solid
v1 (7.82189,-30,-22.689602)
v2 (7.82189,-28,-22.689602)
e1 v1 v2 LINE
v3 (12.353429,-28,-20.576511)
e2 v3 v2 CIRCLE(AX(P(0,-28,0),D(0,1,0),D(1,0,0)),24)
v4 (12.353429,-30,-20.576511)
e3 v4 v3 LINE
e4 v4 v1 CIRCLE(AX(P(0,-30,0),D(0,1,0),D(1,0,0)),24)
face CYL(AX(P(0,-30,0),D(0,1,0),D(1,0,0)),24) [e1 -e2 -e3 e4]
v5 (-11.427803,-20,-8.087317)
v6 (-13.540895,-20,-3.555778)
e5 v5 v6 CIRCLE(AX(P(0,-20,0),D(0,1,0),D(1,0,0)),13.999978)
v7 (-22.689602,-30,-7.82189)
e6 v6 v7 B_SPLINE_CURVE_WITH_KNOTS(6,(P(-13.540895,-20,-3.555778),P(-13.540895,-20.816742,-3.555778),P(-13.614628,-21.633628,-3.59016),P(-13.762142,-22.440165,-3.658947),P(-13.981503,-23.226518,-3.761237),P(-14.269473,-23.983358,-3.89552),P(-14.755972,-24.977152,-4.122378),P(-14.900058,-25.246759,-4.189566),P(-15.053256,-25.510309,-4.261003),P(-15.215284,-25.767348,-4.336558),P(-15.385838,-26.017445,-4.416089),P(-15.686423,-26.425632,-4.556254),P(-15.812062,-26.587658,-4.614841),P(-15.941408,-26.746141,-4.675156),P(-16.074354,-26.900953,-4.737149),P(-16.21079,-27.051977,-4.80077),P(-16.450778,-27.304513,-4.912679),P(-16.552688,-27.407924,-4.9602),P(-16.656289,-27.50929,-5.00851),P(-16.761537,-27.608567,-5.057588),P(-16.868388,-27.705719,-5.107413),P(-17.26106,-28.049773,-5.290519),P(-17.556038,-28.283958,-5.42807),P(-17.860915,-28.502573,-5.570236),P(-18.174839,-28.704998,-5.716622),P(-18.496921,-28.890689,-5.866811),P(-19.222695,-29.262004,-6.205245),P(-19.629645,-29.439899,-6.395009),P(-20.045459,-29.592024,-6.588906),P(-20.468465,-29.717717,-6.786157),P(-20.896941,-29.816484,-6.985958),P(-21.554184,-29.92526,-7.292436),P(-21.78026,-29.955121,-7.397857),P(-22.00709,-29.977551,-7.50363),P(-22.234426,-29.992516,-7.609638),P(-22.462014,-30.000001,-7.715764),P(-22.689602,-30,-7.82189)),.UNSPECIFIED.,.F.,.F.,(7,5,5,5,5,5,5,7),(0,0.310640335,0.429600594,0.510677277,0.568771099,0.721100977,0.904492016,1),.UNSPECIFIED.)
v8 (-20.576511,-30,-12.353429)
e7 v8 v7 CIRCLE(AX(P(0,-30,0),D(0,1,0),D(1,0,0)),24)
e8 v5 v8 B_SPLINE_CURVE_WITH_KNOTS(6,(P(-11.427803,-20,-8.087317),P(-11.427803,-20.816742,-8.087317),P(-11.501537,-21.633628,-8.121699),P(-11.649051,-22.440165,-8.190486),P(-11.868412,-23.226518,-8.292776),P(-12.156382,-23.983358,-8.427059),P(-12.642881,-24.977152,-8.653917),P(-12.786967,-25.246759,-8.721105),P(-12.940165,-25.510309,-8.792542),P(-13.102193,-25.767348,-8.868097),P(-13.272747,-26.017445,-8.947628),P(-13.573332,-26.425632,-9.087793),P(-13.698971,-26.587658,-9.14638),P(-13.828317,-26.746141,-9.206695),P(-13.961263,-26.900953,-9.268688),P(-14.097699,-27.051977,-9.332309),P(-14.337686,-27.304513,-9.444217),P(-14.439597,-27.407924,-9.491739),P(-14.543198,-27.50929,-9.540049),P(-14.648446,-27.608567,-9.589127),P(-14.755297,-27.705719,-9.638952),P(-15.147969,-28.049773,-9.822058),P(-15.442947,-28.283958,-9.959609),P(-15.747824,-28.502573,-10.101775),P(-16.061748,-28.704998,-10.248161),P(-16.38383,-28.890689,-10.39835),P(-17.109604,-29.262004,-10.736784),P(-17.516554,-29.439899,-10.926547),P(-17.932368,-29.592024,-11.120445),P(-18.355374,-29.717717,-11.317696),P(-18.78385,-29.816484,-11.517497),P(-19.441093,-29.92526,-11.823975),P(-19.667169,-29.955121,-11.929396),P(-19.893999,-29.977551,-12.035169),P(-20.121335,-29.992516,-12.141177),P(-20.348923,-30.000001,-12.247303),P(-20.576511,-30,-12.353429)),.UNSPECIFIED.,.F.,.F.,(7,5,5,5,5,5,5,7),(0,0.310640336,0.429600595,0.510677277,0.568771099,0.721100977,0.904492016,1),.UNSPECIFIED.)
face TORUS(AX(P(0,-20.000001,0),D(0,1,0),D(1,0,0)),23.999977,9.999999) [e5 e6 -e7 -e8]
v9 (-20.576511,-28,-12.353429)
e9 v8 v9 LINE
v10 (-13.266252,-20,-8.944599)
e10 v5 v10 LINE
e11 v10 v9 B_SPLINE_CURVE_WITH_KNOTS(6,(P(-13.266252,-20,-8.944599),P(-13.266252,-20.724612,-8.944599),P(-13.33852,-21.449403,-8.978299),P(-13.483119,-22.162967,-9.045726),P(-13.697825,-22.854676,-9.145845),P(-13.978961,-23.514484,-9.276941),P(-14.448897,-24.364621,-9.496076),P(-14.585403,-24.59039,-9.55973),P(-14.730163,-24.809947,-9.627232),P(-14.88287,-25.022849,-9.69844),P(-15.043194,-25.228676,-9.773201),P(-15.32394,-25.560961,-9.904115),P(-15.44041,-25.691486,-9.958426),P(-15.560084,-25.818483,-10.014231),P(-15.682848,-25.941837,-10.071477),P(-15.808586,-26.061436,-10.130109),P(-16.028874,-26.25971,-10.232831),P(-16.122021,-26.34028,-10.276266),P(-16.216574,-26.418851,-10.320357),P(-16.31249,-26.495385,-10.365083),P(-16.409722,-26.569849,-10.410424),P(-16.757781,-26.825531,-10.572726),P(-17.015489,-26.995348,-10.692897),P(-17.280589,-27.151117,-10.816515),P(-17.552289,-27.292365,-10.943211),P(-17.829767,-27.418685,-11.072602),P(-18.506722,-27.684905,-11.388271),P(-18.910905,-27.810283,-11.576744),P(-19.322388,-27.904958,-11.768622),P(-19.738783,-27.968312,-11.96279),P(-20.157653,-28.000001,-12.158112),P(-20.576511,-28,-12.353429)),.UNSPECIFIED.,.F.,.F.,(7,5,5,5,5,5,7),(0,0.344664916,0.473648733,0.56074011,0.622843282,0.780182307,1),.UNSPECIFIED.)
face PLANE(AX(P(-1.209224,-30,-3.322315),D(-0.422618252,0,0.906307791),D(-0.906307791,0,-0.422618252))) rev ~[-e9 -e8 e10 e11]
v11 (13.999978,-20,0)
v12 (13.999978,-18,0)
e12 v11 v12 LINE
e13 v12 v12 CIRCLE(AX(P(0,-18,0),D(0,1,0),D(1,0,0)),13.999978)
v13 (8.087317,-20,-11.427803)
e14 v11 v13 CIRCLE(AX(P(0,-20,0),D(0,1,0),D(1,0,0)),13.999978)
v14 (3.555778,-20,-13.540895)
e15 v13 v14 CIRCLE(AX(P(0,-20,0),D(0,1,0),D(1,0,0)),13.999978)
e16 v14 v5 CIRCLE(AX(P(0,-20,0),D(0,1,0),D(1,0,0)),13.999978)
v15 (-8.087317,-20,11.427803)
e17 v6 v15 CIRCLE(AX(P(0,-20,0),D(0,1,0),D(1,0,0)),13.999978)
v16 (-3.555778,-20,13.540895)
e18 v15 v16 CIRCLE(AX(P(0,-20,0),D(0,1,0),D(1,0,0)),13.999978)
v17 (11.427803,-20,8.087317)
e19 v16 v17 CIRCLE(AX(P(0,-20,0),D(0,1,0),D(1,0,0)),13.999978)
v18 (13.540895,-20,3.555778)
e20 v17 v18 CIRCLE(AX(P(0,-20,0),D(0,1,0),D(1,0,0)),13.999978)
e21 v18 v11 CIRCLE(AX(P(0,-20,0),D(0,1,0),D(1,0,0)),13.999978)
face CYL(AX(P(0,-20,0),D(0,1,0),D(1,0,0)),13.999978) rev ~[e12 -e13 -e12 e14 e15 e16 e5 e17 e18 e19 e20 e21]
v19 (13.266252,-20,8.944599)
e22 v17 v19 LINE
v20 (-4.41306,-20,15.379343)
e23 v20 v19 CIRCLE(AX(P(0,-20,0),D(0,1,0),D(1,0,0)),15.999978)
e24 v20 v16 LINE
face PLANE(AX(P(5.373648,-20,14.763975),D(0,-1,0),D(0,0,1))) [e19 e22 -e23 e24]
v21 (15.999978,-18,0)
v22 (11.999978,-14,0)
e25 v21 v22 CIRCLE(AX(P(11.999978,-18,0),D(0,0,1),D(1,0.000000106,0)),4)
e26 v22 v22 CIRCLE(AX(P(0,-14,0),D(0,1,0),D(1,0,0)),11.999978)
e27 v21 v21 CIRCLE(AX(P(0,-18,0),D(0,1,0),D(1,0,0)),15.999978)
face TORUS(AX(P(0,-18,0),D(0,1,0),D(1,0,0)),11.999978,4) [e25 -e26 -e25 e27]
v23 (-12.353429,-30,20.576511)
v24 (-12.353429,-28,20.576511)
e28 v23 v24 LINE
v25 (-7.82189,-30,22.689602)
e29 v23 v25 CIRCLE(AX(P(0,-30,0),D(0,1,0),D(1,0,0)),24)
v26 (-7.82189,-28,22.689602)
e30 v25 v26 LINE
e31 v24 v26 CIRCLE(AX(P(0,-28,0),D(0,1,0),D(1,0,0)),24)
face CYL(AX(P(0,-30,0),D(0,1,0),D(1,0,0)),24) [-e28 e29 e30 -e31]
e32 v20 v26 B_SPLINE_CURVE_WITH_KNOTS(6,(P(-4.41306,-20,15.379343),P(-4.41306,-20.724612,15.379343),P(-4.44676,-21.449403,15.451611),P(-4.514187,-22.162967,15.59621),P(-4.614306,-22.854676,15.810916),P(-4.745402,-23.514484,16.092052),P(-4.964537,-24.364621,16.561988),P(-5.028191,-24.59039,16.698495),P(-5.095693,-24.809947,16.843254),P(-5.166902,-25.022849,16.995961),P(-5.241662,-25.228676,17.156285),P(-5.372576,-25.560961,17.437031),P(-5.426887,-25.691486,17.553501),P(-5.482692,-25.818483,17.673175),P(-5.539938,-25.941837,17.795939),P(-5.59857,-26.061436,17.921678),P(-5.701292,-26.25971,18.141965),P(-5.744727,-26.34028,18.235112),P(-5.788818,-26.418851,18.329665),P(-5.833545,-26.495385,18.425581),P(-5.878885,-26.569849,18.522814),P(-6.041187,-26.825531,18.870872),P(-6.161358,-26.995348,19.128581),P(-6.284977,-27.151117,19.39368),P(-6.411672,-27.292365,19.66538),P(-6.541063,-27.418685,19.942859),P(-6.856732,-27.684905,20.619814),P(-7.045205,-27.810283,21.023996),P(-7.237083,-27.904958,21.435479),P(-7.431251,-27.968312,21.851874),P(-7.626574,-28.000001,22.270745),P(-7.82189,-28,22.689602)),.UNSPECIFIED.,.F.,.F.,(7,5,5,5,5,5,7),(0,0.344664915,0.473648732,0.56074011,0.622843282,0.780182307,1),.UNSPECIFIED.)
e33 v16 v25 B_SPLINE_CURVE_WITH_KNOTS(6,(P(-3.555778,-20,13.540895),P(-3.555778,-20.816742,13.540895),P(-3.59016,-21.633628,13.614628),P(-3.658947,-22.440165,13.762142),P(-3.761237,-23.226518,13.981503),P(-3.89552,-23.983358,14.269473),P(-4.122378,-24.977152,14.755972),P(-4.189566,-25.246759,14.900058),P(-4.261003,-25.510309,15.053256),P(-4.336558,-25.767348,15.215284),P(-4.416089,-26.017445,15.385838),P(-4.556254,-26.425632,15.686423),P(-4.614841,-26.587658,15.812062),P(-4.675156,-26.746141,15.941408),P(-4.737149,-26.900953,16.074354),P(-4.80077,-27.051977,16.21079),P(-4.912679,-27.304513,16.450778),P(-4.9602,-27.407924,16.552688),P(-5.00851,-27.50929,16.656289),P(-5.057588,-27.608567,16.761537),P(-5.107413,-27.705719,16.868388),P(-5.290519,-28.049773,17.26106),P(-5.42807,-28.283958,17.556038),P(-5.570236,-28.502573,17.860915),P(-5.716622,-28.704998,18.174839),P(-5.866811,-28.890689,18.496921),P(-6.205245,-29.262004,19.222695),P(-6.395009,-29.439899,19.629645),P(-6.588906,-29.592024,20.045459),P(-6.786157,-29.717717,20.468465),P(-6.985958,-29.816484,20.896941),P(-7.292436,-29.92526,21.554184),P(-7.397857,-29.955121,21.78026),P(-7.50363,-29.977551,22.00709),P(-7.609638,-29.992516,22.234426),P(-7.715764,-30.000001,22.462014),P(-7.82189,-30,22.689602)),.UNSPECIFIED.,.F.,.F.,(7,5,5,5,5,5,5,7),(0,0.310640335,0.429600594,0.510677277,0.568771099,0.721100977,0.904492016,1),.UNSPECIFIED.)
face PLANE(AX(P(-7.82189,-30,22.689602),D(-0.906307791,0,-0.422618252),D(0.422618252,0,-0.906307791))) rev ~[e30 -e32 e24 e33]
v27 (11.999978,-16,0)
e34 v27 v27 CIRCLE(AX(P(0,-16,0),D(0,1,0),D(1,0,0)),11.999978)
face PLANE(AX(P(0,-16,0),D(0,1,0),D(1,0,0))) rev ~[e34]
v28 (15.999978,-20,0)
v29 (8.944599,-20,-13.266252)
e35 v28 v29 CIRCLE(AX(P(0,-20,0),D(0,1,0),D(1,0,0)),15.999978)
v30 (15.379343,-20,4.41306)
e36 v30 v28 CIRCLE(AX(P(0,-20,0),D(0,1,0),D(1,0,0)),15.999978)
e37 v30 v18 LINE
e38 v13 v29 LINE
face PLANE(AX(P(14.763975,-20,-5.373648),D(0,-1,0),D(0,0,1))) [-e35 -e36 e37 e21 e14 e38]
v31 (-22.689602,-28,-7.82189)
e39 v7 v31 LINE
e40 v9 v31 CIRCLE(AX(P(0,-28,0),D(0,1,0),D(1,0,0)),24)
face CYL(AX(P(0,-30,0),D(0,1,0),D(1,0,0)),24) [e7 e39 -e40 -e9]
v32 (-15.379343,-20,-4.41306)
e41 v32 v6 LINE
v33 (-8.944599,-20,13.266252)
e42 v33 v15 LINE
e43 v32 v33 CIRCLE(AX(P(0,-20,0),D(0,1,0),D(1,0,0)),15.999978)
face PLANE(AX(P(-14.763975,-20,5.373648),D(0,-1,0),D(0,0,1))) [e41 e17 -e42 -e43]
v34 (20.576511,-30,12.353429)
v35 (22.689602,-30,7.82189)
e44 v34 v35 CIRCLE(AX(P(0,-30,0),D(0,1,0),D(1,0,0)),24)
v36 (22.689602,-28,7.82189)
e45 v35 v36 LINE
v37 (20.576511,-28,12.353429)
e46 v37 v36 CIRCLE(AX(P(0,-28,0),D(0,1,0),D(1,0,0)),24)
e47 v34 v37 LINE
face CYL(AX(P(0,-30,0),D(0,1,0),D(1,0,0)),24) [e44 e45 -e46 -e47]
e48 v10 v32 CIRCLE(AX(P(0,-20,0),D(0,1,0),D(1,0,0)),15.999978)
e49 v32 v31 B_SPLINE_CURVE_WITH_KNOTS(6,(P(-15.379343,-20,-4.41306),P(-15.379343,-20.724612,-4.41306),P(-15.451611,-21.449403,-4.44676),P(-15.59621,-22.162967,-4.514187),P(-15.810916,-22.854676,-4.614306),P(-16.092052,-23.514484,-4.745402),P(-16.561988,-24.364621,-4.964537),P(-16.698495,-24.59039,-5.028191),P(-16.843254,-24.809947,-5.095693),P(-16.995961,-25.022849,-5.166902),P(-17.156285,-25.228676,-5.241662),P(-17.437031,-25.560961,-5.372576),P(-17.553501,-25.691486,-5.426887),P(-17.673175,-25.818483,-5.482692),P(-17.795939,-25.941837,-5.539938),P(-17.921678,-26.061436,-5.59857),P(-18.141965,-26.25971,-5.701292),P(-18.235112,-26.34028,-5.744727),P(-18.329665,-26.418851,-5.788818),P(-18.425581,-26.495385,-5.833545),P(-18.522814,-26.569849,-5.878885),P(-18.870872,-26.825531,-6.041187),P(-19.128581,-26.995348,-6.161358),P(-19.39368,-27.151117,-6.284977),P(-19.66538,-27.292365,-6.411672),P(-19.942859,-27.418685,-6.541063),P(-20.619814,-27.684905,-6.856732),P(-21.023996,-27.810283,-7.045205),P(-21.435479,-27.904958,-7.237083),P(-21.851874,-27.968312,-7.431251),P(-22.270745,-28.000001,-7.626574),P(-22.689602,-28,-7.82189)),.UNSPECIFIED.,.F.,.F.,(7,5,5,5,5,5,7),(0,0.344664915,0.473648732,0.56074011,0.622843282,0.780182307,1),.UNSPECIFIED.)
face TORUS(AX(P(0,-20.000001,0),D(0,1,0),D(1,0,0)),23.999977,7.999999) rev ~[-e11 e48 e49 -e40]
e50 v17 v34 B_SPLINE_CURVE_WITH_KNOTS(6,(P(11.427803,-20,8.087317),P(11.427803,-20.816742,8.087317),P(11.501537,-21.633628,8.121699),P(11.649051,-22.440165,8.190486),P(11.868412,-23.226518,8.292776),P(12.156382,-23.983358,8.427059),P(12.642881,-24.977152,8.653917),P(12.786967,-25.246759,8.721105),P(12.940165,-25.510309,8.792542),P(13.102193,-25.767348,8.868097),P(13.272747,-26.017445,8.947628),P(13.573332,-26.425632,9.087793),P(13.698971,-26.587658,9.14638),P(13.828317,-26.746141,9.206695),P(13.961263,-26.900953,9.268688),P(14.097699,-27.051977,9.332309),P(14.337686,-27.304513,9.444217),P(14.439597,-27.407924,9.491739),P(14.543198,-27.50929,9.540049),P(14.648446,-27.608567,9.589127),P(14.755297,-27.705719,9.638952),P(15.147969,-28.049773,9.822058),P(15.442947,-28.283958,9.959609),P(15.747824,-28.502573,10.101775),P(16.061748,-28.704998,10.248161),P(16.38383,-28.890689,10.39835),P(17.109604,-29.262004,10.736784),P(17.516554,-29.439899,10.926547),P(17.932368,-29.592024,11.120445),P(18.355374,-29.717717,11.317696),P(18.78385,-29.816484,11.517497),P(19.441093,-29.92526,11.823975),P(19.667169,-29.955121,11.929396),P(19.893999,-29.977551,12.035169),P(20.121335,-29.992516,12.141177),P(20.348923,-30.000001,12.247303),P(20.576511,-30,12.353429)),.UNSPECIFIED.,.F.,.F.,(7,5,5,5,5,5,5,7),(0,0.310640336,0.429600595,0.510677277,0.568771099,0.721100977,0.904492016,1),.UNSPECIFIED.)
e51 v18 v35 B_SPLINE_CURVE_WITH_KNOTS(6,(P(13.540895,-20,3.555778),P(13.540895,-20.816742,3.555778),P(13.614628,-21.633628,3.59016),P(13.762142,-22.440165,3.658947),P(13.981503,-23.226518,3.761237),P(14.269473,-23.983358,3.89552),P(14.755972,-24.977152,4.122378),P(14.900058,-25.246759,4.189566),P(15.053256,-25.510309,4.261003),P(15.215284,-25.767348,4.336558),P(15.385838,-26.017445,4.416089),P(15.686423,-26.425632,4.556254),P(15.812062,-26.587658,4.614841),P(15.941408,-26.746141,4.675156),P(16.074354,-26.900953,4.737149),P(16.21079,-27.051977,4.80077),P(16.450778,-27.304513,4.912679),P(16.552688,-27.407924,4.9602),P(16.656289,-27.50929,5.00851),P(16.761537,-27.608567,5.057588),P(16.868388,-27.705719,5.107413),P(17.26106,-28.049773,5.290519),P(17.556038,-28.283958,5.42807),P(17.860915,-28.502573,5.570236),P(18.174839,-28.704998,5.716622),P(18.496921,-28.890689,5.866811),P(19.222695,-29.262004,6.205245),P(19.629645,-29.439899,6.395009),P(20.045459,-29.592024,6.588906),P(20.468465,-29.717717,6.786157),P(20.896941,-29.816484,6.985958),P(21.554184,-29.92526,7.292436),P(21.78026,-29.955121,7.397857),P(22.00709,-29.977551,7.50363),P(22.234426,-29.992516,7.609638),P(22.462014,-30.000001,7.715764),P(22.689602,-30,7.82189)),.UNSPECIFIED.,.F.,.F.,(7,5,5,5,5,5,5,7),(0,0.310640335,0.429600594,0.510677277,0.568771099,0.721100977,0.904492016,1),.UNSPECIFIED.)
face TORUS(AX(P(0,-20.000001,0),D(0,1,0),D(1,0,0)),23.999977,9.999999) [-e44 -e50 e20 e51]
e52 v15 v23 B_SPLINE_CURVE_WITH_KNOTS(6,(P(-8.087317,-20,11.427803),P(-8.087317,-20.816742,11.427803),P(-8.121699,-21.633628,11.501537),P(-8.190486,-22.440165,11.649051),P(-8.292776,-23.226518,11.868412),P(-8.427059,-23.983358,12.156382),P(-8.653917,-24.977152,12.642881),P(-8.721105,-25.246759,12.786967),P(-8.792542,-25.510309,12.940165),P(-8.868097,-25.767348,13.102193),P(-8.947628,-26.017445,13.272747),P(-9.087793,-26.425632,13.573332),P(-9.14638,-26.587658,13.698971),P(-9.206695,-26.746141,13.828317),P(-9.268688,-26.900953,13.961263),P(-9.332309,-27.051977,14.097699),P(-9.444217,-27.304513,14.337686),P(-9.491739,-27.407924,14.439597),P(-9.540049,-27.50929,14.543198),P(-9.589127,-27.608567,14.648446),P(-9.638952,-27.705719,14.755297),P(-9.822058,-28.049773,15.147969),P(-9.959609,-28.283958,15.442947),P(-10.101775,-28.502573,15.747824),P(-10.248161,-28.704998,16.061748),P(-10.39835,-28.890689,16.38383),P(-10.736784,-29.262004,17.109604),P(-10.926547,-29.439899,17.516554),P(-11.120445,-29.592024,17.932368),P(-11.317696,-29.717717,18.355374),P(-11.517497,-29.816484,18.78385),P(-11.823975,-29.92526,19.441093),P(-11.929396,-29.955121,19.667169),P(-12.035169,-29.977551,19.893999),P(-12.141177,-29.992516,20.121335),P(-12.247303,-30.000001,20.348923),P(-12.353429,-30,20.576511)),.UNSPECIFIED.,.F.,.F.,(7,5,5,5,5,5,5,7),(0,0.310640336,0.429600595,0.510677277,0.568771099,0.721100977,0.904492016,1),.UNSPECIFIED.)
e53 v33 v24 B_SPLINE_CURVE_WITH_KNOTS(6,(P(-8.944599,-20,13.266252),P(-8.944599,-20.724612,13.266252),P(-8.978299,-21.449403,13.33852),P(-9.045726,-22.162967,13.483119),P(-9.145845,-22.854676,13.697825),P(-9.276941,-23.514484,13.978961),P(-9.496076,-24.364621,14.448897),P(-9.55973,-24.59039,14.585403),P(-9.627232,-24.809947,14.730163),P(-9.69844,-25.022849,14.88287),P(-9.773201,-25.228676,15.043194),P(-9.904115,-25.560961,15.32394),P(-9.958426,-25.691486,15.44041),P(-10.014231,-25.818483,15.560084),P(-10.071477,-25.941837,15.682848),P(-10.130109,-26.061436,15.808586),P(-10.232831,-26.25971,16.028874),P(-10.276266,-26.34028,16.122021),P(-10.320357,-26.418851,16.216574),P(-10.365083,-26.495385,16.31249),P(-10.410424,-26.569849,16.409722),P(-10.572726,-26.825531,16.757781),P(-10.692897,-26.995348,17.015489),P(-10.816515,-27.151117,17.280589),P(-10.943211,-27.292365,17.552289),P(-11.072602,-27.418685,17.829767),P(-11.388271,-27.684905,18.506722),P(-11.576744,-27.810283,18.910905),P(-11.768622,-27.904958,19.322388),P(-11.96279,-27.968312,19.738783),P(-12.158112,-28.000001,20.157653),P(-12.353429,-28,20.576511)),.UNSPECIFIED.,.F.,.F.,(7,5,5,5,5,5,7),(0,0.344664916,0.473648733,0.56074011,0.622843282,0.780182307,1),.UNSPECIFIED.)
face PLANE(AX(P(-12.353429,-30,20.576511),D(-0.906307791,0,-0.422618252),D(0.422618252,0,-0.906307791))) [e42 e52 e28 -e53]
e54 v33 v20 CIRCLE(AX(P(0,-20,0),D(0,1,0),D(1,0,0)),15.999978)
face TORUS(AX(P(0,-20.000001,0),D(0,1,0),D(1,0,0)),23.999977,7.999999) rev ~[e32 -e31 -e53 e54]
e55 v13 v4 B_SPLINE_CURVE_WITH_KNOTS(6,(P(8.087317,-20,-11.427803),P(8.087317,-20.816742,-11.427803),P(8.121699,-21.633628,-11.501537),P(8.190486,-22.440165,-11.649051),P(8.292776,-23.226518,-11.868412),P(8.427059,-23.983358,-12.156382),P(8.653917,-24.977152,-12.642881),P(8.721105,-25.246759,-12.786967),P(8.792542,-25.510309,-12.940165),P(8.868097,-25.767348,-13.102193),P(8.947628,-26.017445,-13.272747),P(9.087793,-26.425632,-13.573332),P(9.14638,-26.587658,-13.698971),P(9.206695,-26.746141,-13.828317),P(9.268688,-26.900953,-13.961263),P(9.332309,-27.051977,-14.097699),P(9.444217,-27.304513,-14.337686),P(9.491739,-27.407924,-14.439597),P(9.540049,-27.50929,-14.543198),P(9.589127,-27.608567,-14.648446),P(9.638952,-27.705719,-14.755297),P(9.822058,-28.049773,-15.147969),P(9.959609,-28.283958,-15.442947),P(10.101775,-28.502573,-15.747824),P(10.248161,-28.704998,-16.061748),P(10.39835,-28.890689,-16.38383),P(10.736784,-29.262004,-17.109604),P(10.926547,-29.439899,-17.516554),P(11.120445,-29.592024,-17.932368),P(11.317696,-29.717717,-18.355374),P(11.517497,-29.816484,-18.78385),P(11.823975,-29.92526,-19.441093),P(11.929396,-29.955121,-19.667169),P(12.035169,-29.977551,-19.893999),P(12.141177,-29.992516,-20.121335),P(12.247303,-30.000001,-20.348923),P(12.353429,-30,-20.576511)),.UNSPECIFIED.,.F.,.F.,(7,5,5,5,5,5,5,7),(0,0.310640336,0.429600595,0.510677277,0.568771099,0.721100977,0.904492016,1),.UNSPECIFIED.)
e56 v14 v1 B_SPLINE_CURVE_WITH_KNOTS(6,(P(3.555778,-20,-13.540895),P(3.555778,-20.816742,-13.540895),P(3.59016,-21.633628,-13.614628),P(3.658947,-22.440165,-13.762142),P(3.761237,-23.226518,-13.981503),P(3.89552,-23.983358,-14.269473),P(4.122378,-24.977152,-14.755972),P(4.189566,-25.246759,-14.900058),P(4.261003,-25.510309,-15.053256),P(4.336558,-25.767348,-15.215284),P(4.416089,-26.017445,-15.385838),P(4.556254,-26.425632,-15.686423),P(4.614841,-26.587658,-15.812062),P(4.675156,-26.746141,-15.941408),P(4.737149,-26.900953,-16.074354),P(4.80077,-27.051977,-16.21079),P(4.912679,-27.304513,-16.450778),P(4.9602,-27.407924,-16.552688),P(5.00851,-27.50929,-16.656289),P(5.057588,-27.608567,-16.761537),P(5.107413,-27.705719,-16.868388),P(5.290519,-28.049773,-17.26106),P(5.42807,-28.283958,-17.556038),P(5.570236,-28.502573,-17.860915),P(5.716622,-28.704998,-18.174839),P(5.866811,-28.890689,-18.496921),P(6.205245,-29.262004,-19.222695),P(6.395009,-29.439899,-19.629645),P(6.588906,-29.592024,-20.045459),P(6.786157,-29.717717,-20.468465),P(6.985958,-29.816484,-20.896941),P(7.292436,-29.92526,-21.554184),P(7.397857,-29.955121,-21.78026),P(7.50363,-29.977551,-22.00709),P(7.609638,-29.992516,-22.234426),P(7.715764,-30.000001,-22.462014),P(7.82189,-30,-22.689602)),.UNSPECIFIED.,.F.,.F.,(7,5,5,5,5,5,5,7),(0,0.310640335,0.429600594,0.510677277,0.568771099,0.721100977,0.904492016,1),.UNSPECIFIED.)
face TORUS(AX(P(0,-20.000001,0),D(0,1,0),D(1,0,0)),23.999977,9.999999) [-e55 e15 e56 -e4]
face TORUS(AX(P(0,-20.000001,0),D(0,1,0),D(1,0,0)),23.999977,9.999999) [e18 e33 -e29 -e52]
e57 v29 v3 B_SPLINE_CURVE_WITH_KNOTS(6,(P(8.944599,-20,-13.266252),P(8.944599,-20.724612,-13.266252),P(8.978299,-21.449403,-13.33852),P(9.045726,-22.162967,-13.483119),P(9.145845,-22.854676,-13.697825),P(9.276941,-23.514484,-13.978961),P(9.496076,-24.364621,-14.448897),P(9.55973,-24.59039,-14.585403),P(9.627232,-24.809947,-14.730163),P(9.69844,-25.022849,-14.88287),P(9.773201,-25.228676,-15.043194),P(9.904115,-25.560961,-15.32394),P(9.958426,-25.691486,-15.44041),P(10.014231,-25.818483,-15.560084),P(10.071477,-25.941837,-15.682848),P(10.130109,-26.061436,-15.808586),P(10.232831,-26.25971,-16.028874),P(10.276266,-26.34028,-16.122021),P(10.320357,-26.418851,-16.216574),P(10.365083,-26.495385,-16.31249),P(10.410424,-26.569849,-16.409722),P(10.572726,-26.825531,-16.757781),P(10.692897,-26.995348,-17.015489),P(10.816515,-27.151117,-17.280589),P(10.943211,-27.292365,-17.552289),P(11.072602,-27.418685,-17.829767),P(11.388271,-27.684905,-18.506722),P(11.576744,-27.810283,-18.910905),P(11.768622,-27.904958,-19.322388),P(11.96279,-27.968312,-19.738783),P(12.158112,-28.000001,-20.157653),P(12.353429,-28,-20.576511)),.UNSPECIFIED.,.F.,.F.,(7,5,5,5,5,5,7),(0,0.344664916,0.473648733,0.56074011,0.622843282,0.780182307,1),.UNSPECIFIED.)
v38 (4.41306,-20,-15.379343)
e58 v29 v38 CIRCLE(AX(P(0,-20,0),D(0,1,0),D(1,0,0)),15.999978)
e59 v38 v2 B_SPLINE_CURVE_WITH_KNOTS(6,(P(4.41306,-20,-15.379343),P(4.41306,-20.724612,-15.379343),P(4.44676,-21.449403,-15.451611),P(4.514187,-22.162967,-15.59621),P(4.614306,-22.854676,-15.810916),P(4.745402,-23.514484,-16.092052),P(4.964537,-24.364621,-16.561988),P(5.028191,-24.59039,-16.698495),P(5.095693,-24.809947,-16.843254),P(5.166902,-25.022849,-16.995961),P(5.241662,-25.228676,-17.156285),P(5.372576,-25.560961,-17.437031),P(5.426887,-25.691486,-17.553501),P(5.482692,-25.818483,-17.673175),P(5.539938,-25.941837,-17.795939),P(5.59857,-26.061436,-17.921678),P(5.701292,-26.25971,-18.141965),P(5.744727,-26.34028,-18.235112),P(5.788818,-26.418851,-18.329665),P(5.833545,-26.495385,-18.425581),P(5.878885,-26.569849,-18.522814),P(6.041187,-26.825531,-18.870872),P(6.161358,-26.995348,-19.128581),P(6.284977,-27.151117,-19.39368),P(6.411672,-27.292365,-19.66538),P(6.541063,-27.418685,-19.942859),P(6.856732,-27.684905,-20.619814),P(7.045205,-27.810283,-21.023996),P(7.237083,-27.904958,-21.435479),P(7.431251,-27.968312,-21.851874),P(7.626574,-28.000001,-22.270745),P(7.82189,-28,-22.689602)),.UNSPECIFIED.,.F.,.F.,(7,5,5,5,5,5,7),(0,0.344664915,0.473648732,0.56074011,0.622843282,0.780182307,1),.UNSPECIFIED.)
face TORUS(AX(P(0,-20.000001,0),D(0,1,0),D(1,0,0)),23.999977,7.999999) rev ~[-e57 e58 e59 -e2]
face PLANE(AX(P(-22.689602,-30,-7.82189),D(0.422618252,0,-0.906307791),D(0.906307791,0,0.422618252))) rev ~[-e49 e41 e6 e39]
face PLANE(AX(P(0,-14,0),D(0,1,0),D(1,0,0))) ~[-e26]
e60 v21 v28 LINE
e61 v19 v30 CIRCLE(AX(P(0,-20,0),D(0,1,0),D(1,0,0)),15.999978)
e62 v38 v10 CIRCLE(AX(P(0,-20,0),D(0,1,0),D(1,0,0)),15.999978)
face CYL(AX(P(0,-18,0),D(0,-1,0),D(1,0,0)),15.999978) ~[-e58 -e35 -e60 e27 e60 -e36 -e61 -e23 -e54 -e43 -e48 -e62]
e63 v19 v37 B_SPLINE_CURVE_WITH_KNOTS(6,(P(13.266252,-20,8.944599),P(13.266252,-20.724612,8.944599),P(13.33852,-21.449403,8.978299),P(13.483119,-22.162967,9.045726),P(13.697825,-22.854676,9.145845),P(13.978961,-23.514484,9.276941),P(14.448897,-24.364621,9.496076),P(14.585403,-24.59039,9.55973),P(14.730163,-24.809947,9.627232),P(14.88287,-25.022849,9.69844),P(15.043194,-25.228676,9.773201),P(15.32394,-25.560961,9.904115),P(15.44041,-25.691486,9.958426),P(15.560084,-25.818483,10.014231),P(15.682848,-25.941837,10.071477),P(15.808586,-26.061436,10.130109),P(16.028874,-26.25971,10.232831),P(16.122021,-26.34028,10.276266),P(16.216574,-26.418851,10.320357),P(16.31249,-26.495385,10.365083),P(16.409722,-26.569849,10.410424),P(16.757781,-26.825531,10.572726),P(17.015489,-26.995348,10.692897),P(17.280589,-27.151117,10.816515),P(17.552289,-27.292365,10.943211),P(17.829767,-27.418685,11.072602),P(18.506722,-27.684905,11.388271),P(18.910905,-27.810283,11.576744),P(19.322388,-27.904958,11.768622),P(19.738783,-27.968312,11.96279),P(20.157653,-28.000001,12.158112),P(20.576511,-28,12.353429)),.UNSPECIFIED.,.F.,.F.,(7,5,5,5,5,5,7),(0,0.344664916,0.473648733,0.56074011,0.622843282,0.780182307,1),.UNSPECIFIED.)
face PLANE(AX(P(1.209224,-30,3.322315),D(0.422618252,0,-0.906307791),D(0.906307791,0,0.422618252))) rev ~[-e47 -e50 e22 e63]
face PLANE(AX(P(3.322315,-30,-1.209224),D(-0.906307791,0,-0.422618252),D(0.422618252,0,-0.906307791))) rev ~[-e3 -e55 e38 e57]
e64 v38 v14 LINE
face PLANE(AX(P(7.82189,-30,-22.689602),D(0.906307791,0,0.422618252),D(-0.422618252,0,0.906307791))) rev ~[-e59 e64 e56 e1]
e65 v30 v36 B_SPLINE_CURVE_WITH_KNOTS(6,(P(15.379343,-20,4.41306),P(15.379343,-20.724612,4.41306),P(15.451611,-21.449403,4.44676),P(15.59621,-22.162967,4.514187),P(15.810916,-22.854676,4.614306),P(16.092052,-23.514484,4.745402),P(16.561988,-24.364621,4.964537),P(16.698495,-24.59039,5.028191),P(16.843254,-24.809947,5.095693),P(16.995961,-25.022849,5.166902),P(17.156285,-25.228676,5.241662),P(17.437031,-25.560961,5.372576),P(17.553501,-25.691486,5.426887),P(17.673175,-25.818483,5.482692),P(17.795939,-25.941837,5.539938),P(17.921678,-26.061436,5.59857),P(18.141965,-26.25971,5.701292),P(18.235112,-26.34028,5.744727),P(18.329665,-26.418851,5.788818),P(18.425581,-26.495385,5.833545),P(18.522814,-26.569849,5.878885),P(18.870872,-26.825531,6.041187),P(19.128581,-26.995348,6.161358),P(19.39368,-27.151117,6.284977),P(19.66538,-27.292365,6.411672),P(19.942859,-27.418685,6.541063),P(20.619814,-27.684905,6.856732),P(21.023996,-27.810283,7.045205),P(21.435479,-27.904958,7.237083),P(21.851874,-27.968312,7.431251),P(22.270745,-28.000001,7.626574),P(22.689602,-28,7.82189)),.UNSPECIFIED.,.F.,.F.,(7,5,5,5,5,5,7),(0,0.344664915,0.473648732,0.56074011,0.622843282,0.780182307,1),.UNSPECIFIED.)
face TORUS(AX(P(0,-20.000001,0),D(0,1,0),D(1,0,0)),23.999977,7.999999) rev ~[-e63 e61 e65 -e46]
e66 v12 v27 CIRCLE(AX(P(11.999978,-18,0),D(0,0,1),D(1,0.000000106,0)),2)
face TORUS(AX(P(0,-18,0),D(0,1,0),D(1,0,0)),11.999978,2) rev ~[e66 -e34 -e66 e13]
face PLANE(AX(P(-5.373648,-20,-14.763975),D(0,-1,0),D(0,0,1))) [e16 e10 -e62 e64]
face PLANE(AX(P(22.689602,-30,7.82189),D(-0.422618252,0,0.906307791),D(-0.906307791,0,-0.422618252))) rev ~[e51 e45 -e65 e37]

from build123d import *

# Parameters (mm, degrees)
POCKET002_DEPTH = 10
SKETCH006_R     = 4
POCKET003_DEPTH = 5


with BuildPart() as part:
    # Sketch004 → Revolution (revolve)
    with BuildSketch(Plane.XY):
        with BuildLine():
            ThreePointArc((15.999978, -20), (18.343131, -25.656862), (24, -28))
            Line((24, -30), (24, -28))
            ThreePointArc((13.999978, -20), (16.928918, -27.071076), (24, -30))
            Line((13.999978, -20), (13.999978, -18))
            ThreePointArc((13.999978, -18), (13.414191, -16.585786), (11.999978, -16))
            Line((11.999978, -16), (0, -16))
            Line((0, -16), (0, -14))
            Line((0, -14), (11.999978, -14))
            ThreePointArc((15.999978, -18), (14.828405, -15.171573), (11.999978, -14))
            Line((15.999978, -18), (15.999978, -20))
        make_face()
    revolve(axis=Axis((0, 0, 0), (0, 1, 0)))

    # Sketch005 (on DatumPlane) → Pocket002 (cut)
    with BuildSketch(Plane(origin=(0, -30, 0), x_dir=(0, 0, 1), z_dir=(0, -1, 0))):
        with BuildLine():
            ThreePointArc((12.353429, -20.576511), (22.552623, -8.208483), (22.689602, 7.82189))
            Line((22.689602, 7.82189), (3.322315, -1.209224))
            Line((3.322315, -1.209224), (12.353429, -20.576511))
        make_face()
        with BuildLine():
            ThreePointArc((20.576511, 12.353429), (8.208483, 22.552623), (-7.82189, 22.689602))
            Line((-7.82189, 22.689602), (1.209224, 3.322315))
            Line((20.576511, 12.353429), (1.209224, 3.322315))
        make_face()
        with BuildLine():
            ThreePointArc((-12.353429, 20.576511), (-22.552623, 8.208483), (-22.689602, -7.82189))
            Line((-22.689602, -7.82189), (-3.322315, 1.209224))
            Line((-3.322315, 1.209224), (-12.353429, 20.576511))
        make_face()
        with BuildLine():
            ThreePointArc((-20.576511, -12.353429), (-8.208483, -22.552623), (7.82189, -22.689602))
            Line((7.82189, -22.689602), (-1.209224, -3.322315))
            Line((-1.209224, -3.322315), (-20.576511, -12.353429))
        make_face()
    extrude(amount=-POCKET002_DEPTH, mode=Mode.SUBTRACT)

    # Sketch006 (on Face30 of Pocket002) → Pocket003 (cut)
    with BuildSketch(Plane.XZ.offset(16)):
        Circle(SKETCH006_R)
    extrude(amount=POCKET003_DEPTH, mode=Mode.SUBTRACT)


solid = part.part
